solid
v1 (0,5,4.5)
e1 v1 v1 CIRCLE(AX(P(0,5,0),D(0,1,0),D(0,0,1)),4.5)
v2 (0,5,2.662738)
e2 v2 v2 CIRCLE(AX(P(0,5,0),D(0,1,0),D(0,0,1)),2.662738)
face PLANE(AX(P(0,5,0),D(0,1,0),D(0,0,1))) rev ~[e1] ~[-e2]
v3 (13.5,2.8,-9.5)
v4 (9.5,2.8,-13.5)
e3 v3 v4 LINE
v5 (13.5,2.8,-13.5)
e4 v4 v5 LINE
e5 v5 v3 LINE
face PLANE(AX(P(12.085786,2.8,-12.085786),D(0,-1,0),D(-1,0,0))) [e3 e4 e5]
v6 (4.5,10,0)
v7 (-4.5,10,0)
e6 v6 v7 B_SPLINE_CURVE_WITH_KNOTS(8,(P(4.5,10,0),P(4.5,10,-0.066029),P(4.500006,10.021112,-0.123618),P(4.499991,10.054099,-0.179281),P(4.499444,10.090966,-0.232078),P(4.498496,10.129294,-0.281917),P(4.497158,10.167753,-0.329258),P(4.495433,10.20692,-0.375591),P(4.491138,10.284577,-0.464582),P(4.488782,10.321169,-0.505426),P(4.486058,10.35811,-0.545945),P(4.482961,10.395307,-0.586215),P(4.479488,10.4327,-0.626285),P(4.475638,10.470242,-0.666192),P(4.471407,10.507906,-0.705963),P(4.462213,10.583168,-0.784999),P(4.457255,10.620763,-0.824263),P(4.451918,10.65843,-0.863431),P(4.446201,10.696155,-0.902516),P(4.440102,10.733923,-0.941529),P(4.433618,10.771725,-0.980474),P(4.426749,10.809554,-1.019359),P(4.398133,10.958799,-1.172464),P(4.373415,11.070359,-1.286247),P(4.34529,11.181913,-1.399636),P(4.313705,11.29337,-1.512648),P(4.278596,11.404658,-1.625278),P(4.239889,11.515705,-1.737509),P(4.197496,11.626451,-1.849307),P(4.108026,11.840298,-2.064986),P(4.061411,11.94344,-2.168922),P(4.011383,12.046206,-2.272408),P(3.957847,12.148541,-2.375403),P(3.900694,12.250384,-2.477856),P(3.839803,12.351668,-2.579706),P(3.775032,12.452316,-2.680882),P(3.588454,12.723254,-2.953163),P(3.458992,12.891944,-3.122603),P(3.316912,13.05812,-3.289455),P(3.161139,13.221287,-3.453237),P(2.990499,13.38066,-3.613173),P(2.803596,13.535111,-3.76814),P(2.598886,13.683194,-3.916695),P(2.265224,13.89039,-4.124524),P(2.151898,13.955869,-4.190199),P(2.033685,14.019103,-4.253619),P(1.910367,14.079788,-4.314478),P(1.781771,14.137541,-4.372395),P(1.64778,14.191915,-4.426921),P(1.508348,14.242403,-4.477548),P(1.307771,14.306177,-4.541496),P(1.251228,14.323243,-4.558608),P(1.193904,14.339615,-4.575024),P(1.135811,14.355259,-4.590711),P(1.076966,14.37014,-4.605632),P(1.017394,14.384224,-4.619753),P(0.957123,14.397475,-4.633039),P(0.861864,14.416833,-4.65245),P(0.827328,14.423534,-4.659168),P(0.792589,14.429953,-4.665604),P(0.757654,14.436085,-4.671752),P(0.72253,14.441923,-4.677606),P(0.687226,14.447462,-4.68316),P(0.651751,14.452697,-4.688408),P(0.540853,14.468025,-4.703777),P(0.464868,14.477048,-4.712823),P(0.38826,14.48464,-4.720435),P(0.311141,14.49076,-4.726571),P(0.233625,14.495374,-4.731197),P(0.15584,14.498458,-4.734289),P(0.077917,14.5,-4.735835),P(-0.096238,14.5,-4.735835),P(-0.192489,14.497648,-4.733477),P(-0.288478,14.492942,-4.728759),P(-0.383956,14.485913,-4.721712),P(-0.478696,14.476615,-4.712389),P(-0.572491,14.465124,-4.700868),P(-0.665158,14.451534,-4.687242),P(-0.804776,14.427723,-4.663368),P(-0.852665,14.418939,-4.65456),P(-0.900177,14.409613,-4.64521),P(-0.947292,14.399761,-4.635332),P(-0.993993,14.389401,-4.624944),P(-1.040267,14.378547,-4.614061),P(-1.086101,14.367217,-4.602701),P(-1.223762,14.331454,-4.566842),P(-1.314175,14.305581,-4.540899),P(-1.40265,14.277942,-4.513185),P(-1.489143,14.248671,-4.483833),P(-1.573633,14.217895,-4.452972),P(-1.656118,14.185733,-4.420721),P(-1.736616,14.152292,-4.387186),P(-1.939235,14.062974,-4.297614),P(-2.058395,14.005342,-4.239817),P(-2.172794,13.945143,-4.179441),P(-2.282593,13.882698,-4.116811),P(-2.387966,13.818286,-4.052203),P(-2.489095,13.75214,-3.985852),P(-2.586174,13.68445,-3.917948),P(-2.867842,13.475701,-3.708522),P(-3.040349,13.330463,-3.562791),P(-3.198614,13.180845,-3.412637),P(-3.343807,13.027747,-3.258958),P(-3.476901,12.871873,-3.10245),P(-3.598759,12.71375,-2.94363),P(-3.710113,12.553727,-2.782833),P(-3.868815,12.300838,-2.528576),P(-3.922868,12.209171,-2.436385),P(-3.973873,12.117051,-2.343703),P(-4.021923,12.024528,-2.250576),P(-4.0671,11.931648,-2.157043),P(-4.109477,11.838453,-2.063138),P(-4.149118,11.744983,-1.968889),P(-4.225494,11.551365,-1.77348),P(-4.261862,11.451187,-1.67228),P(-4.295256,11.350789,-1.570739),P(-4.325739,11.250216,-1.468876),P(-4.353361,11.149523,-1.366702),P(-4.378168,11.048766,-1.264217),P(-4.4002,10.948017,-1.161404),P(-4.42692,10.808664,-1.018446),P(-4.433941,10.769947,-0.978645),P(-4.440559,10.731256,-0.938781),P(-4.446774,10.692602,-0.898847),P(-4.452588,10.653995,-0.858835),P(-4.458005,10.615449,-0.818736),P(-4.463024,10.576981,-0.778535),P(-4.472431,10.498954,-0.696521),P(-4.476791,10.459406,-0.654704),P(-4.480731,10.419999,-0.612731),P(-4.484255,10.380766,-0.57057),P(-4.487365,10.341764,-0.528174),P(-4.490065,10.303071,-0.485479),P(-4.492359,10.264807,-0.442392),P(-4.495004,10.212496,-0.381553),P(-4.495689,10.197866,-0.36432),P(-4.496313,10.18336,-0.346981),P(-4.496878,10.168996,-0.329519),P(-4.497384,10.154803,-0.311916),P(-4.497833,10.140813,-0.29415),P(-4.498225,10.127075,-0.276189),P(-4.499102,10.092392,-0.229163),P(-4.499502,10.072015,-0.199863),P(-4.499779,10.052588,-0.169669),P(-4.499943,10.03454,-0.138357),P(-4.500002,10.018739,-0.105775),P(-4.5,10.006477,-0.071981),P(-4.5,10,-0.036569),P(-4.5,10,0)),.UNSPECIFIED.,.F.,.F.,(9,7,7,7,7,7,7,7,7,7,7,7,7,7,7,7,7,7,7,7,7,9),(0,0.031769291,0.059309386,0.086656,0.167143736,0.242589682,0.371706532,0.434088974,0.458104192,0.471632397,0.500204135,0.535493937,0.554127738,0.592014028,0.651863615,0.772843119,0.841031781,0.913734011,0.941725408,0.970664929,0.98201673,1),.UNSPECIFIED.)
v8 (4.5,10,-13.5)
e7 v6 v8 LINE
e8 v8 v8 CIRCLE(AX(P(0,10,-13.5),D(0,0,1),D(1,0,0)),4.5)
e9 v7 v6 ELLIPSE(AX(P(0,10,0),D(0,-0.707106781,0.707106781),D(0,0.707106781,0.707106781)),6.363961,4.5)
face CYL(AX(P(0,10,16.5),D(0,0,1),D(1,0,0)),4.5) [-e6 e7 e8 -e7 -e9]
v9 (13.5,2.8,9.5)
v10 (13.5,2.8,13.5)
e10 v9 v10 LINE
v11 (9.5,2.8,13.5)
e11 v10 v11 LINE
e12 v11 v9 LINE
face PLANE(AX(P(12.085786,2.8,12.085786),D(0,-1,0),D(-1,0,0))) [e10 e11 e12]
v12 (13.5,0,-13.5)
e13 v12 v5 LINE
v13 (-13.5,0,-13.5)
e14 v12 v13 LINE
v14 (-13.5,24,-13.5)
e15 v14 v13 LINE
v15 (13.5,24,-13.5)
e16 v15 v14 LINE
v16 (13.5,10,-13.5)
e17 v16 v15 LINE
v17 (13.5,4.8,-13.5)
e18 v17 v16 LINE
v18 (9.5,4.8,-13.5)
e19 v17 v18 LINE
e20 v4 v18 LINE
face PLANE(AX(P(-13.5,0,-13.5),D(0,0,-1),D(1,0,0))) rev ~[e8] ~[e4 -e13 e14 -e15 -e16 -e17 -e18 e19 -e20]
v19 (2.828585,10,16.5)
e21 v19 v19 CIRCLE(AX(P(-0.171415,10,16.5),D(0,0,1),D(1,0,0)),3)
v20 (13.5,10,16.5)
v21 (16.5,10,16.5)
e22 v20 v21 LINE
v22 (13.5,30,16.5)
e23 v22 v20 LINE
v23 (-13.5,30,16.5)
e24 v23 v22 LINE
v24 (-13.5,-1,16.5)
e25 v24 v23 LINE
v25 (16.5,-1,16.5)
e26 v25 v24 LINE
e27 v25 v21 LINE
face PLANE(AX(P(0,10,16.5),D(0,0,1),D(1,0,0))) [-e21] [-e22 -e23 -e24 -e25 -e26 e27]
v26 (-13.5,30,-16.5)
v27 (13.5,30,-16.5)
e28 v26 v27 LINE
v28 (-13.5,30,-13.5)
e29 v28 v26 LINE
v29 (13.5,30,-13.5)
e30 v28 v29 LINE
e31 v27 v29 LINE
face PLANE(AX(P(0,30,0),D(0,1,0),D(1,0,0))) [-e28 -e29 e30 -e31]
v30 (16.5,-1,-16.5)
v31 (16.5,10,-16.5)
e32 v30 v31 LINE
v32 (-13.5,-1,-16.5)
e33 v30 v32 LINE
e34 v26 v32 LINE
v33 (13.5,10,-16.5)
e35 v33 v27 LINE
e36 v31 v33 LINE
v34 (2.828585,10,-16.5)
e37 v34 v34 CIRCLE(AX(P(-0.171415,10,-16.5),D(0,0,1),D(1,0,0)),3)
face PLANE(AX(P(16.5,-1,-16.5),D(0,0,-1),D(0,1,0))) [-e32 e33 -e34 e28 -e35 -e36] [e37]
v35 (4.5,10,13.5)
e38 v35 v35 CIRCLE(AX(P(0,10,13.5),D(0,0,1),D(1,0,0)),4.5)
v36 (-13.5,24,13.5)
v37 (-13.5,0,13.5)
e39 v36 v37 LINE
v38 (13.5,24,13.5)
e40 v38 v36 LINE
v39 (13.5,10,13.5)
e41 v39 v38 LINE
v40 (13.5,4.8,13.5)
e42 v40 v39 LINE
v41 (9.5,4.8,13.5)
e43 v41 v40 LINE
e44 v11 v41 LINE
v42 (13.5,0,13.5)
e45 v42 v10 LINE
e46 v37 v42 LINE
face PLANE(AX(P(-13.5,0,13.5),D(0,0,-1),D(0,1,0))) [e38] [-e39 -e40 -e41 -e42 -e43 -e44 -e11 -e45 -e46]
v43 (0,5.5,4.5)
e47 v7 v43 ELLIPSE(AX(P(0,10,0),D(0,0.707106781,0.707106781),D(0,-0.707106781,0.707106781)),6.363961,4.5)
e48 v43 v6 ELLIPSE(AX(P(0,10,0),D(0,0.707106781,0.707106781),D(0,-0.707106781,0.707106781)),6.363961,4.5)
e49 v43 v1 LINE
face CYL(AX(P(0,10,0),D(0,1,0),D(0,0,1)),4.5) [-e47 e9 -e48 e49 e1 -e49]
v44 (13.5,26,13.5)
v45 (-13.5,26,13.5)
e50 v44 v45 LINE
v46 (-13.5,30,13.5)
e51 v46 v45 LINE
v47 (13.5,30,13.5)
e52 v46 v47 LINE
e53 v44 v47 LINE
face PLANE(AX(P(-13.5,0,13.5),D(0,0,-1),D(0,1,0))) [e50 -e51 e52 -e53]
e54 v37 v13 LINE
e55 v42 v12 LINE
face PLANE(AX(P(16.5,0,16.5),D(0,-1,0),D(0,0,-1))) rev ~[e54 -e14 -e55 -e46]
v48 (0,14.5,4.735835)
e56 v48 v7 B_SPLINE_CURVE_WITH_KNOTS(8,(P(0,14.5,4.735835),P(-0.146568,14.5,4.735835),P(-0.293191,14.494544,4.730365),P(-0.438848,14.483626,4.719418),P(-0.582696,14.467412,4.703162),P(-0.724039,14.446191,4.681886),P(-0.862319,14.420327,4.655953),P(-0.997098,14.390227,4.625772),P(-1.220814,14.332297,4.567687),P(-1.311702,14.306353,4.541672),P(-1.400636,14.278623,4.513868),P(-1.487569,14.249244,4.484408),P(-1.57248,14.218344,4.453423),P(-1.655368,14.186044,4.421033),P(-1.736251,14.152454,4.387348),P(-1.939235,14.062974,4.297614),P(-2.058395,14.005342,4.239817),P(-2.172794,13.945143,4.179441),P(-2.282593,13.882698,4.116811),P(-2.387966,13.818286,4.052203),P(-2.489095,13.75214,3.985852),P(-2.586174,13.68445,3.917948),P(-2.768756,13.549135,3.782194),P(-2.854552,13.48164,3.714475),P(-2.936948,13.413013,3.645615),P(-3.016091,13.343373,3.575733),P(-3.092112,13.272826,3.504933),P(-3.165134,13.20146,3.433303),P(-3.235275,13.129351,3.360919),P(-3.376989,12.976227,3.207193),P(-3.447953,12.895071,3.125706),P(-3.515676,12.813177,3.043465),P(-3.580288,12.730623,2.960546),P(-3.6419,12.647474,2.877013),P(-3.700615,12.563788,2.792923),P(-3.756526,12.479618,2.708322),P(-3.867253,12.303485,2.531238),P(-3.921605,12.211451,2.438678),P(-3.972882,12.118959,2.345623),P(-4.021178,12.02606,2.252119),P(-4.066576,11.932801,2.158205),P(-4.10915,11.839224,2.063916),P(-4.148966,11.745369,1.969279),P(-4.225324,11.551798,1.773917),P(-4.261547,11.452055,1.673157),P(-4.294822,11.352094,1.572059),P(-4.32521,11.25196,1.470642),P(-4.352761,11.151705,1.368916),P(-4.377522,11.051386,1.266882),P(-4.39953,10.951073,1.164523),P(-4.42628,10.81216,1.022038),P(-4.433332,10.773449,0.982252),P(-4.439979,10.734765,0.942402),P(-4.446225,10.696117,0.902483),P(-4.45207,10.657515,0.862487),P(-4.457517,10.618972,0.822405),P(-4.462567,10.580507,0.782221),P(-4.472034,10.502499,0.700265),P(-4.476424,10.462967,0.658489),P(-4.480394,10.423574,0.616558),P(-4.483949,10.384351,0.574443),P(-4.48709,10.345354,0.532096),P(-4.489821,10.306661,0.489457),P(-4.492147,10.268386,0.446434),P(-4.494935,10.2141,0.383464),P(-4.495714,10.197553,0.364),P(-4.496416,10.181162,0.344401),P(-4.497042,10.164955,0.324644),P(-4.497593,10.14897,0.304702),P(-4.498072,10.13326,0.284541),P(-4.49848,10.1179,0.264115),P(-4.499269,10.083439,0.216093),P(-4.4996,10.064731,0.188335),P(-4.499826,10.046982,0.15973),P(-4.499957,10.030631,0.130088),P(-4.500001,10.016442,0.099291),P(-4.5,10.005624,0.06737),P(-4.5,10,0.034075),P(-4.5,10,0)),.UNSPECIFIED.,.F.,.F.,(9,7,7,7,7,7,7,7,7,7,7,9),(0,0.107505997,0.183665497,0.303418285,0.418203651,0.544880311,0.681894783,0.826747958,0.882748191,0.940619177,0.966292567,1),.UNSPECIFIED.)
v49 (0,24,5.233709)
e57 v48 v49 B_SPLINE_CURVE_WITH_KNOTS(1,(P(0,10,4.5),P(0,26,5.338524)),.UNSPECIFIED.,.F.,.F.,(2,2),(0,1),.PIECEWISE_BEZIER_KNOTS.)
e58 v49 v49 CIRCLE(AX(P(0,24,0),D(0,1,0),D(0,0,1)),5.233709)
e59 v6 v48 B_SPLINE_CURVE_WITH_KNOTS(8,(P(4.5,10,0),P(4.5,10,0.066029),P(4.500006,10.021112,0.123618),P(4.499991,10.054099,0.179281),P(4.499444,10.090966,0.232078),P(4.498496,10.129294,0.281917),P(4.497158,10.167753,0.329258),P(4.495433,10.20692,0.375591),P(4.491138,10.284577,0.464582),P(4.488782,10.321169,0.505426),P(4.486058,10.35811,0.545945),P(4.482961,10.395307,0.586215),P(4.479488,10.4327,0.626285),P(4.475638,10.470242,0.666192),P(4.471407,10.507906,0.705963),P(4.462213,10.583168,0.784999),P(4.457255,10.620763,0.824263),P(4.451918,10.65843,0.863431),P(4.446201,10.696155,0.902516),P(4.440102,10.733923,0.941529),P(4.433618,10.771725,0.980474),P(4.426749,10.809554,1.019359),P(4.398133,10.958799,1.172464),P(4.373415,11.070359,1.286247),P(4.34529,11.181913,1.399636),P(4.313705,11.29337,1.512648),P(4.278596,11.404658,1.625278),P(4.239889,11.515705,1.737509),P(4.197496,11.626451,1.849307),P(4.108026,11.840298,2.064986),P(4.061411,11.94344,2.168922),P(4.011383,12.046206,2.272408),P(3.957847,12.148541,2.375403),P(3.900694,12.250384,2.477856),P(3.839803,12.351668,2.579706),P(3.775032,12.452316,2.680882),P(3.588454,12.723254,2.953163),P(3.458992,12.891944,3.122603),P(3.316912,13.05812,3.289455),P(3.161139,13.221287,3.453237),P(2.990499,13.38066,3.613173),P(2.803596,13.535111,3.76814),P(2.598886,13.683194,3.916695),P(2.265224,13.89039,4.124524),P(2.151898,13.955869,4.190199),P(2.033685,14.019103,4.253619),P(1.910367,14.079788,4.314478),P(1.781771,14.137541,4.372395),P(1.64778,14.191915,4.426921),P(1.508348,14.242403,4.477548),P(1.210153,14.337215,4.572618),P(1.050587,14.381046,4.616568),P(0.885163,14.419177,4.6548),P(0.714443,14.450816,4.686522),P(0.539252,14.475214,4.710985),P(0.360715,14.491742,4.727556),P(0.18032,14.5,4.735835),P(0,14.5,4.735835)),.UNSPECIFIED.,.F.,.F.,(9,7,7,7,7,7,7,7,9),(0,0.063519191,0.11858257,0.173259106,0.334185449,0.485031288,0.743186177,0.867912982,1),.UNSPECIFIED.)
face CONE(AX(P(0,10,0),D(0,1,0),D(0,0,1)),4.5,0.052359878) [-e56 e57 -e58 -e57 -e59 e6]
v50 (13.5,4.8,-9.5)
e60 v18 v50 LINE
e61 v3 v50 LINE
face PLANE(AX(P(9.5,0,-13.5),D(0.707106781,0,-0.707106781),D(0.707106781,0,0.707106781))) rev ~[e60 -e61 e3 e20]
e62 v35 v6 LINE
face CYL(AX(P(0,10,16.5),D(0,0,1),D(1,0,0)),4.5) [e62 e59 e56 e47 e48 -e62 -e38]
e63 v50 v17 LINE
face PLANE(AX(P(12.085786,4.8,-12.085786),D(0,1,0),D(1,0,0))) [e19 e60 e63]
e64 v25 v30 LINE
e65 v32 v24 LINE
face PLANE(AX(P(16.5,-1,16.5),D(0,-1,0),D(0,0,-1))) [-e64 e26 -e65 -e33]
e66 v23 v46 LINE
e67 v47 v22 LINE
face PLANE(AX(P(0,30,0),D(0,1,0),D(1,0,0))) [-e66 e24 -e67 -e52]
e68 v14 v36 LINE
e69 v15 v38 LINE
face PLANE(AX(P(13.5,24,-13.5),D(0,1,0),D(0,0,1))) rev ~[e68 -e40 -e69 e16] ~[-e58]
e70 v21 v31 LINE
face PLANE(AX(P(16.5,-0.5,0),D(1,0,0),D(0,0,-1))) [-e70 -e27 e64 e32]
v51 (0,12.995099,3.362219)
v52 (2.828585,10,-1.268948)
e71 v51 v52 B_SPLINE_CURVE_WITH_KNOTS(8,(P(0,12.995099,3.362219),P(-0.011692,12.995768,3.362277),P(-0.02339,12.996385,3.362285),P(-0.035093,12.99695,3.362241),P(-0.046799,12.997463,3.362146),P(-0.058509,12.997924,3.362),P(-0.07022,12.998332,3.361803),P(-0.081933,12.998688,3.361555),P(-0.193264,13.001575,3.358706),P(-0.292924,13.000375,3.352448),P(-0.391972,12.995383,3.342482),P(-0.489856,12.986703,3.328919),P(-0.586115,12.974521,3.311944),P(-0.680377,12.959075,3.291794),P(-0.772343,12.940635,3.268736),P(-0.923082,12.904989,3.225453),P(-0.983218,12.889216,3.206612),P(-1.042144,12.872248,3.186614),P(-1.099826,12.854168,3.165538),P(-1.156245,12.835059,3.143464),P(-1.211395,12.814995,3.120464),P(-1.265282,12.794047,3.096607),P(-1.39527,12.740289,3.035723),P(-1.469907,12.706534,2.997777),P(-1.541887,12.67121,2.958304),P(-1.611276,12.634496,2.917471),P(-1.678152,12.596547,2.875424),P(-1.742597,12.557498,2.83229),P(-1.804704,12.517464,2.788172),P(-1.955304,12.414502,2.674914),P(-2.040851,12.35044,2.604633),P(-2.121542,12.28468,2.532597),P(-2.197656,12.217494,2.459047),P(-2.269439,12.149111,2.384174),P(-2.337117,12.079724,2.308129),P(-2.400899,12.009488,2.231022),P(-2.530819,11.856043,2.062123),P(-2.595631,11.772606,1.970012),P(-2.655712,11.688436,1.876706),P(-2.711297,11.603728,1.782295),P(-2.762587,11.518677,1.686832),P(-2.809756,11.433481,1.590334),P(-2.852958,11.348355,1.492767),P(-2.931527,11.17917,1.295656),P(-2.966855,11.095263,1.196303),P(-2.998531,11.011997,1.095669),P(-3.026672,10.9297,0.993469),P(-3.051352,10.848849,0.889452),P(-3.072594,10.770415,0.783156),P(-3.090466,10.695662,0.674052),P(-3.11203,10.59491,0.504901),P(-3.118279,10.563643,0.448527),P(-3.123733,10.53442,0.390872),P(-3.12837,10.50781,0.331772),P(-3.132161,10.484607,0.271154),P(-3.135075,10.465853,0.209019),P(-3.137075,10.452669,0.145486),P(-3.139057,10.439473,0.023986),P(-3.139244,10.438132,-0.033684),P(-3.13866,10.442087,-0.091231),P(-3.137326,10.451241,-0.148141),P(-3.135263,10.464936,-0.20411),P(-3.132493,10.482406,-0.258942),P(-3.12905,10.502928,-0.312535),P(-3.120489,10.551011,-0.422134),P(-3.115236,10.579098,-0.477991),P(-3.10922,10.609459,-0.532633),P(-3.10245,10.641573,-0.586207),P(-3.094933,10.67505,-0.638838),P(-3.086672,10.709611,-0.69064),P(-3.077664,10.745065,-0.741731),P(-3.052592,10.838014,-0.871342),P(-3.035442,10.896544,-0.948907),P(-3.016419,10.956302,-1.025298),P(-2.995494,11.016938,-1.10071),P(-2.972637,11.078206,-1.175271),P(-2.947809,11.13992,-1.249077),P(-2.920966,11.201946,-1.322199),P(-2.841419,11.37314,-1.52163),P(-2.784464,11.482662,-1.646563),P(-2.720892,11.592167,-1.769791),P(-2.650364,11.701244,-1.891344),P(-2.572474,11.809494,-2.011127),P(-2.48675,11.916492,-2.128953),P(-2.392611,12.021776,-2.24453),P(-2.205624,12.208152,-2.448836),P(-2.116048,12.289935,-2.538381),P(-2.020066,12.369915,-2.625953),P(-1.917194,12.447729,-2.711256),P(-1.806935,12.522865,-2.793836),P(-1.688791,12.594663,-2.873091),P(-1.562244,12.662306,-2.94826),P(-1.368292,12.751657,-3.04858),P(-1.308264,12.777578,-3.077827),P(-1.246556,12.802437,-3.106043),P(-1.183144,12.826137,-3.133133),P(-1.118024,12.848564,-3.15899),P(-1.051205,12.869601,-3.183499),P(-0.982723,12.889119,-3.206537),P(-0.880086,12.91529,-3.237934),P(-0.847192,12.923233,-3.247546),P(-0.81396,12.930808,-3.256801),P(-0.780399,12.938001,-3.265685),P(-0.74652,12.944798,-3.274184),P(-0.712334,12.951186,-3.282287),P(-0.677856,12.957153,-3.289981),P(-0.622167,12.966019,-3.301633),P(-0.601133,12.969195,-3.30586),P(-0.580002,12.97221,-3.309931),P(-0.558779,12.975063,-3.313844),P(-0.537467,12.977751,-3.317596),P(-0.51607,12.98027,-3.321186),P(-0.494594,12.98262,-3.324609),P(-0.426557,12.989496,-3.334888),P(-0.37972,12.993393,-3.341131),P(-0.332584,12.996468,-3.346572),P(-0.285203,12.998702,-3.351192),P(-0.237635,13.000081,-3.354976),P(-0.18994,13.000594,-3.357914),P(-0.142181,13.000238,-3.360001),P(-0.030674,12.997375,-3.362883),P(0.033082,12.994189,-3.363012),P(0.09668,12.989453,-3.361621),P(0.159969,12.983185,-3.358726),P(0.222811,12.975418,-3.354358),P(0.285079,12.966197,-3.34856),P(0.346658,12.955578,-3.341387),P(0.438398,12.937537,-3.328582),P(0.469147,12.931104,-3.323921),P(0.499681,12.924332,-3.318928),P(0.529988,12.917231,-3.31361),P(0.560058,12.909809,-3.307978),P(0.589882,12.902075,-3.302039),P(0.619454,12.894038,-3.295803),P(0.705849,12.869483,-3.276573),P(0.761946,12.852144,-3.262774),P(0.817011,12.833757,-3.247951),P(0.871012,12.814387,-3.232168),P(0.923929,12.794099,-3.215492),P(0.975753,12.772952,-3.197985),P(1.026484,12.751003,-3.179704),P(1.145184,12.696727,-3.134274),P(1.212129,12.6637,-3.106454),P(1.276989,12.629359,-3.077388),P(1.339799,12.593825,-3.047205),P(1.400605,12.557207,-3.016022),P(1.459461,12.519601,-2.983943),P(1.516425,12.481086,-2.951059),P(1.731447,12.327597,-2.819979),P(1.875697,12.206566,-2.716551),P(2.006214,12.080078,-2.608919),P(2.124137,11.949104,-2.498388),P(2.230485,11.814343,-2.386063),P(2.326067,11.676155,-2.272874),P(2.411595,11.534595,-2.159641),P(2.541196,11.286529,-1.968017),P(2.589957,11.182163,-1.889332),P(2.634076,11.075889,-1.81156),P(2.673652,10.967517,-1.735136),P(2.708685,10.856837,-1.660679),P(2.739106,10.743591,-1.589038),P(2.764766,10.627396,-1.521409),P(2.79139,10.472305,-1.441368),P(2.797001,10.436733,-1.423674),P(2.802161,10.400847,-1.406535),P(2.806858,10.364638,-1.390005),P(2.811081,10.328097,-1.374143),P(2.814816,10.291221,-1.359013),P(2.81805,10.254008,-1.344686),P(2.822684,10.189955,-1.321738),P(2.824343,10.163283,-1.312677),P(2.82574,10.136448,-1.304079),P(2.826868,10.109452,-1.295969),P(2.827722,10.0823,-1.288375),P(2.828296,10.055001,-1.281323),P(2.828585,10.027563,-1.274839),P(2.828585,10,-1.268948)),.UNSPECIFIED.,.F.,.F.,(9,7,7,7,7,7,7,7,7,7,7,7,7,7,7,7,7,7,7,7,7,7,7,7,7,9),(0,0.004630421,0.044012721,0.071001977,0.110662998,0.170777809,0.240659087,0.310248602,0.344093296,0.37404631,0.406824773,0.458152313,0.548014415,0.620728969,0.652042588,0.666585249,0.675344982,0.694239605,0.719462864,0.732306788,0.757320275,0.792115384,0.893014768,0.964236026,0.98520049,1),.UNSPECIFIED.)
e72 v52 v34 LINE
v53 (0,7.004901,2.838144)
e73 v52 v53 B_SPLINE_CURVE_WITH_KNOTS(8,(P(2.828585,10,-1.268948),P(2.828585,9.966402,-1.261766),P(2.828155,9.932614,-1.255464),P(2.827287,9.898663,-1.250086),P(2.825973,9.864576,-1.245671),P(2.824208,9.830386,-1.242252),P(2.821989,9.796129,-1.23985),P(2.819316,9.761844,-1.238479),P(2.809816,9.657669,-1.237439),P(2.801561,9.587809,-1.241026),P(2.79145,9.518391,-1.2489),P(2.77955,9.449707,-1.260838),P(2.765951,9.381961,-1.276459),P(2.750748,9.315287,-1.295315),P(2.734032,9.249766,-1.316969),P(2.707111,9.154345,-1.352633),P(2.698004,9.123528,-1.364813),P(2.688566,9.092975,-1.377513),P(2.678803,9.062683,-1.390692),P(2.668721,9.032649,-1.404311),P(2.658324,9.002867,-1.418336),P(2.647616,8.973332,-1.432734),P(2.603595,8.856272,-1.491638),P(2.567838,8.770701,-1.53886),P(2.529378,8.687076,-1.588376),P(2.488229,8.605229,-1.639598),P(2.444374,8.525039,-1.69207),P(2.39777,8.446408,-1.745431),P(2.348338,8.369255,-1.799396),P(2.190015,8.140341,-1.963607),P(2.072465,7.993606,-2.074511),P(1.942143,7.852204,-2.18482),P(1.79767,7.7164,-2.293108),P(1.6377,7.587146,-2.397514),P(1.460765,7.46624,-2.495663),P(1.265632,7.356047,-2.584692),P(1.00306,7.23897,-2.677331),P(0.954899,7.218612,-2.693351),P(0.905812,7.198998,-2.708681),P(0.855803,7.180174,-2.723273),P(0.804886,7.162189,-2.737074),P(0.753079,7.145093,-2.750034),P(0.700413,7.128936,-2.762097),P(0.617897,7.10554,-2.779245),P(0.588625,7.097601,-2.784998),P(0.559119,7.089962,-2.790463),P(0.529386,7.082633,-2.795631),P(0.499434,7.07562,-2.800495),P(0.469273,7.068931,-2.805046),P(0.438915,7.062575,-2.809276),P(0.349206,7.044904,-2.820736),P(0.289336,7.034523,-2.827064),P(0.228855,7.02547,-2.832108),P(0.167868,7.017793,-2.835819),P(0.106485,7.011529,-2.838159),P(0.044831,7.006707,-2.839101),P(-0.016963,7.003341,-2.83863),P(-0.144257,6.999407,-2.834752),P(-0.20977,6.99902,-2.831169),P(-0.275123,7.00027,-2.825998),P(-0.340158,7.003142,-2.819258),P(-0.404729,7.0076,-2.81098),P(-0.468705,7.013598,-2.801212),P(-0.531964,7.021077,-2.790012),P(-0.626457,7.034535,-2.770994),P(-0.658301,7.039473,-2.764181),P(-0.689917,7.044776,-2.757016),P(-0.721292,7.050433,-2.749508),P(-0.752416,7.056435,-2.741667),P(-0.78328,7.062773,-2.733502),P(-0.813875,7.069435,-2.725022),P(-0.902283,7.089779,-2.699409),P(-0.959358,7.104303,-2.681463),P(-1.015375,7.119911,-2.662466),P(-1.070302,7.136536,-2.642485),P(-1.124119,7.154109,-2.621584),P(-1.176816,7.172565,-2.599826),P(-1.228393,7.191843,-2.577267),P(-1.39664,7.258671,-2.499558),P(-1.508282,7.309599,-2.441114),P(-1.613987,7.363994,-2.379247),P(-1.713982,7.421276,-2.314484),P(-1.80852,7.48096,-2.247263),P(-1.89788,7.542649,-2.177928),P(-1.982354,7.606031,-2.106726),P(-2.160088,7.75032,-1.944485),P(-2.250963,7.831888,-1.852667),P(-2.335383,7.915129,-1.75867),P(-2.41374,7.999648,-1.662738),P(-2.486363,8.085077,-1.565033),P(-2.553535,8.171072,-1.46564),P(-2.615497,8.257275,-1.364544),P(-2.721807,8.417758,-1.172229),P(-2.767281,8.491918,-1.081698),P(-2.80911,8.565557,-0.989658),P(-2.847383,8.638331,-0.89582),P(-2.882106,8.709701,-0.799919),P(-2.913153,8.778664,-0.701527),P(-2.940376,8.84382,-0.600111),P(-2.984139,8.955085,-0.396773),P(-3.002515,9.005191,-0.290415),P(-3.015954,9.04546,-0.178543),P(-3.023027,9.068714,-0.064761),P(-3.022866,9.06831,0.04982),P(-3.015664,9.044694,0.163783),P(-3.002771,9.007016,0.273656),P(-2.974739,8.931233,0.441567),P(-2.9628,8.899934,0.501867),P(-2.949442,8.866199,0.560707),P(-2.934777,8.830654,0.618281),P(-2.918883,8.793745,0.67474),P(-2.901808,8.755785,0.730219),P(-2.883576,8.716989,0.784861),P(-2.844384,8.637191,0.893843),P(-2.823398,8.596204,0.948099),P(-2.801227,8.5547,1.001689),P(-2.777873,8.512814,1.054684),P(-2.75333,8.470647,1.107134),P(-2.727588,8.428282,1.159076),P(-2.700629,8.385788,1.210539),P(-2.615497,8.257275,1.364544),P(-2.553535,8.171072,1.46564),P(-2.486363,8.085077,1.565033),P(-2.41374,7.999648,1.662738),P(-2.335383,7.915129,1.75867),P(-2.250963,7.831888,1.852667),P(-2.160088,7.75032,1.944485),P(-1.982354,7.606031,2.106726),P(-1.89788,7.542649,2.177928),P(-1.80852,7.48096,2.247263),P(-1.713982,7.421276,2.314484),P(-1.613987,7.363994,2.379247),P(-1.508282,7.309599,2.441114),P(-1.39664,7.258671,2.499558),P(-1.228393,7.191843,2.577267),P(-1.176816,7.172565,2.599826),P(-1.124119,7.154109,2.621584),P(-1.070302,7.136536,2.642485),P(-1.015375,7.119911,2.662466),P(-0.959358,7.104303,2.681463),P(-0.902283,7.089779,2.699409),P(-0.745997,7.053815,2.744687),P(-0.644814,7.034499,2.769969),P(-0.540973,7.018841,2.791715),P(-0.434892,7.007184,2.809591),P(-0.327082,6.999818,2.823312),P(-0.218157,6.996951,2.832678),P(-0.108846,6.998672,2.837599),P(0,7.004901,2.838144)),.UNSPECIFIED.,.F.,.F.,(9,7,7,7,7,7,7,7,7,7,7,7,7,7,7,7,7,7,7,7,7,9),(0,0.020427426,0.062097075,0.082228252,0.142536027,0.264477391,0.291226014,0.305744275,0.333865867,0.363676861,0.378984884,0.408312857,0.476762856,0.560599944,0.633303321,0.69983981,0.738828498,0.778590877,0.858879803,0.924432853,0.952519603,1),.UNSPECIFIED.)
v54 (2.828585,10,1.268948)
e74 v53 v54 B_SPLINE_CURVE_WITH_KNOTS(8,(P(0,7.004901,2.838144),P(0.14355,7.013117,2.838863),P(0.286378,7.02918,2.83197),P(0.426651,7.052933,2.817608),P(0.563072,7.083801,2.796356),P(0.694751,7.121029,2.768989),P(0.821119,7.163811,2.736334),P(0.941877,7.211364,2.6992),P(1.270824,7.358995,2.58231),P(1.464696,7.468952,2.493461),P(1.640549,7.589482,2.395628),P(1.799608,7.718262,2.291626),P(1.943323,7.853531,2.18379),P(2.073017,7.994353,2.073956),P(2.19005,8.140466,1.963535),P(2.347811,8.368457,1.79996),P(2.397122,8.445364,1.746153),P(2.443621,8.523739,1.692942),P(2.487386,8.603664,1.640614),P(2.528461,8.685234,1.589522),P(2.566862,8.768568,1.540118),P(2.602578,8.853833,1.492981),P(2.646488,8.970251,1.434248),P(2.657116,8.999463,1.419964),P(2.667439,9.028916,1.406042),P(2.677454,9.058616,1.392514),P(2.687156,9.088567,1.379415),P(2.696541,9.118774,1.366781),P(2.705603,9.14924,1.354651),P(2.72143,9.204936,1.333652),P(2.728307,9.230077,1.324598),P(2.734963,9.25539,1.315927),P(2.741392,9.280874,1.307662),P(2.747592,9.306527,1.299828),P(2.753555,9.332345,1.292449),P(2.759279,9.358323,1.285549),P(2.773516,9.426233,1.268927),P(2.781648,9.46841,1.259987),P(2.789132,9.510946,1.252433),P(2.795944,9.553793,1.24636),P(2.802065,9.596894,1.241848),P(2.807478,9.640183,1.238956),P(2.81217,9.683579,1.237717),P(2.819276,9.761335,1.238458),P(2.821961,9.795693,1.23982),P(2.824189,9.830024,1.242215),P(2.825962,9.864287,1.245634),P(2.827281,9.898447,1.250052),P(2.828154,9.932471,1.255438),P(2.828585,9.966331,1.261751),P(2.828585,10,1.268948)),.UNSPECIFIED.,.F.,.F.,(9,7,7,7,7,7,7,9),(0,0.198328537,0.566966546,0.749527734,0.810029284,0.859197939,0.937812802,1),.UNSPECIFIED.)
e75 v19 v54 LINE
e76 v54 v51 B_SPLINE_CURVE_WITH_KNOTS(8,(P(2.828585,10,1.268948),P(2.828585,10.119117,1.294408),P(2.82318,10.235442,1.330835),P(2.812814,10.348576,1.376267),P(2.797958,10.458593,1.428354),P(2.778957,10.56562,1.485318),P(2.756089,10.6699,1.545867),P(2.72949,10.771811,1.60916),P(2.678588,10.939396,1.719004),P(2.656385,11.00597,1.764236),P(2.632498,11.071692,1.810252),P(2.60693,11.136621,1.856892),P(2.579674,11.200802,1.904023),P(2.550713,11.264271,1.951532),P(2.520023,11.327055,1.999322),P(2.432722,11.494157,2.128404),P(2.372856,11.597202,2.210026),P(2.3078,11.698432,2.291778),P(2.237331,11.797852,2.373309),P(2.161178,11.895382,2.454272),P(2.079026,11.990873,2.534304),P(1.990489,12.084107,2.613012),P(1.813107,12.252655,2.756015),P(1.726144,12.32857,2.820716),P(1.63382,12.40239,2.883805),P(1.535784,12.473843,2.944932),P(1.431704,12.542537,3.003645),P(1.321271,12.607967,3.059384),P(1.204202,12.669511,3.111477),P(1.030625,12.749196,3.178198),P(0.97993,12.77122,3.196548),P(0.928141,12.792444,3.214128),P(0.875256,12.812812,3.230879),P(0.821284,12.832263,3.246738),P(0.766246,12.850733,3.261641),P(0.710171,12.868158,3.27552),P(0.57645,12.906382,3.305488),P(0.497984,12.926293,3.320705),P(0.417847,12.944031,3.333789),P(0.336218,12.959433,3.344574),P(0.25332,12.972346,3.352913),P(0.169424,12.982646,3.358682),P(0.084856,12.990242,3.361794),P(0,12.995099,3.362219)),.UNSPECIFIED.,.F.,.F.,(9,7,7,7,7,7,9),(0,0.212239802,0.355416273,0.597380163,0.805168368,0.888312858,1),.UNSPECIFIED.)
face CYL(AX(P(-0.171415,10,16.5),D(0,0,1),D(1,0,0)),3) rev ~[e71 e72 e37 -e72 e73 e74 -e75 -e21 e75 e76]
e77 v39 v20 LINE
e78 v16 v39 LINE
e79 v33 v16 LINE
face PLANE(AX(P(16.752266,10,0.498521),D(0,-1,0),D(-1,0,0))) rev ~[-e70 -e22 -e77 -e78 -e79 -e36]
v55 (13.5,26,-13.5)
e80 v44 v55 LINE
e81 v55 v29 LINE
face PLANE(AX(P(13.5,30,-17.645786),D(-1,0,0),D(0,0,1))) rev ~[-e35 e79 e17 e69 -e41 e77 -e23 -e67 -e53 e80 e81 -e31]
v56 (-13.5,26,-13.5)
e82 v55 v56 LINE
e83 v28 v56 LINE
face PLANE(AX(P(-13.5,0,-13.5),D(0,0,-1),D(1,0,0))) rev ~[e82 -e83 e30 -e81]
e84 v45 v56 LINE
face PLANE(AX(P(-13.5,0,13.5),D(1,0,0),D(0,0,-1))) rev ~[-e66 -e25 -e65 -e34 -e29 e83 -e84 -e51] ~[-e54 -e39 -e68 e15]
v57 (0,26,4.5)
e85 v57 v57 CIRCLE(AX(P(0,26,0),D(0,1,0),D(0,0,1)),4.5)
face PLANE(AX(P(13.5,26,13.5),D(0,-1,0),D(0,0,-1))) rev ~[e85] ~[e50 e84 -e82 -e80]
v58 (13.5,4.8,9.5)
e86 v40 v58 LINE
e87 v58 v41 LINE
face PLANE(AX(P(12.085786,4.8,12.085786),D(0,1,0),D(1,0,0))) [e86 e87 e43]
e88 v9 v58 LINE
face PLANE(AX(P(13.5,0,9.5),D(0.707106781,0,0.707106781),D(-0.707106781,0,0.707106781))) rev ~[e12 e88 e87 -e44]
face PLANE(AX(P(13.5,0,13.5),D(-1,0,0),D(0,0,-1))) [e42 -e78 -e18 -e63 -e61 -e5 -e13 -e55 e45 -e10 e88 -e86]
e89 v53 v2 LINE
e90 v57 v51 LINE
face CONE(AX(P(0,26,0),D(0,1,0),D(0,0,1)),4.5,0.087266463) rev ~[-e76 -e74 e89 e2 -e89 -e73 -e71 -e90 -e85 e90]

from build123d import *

# Parameters (mm, degrees)
SKETCH1_W                     = 33
SKETCH1_H                     = 33
SKETCH1_W_2                   = 27
SKETCH1_H_2                   = 27
BOSS_EXTRUDE1_DEPTH           = 30
SKETCH3_W                     = 27
SKETCH3_H                     = 30
CUT_EXTRUDE1_DEPTH            = 30
SKETCH4_W                     = 33
SKETCH4_H                     = 1
BOSS_EXTRUDE2_DEPTH           = 33
BOSS_EXTRUDE4_DEPTH           = 4.8
CUT_EXTRUDE3_DEPTH            = 2.8
BOSS_EXTRUDE5_DEPTH           = 4.8
CUT_EXTRUDE5_DEPTH            = 2.8
SKETCH12_W                    = 3
SKETCH12_H                    = 27
CUT_EXTRUDE6_DEPTH            = 10
SKETCH13_W                    = 3
SKETCH13_H                    = 37.394696754
CUT_EXTRUDE7_DEPTH            = 39.800773188
SKETCH15_R                    = 4.5
BOSS_EXTRUDE6_DEPTH           = 33
BOSS_EXTRUDE8_DEPTH           = 27
SKETCH24_R                    = 4.5
BOSS_EXTRUDE7_DEPTH           = 5
BOSS_EXTRUDE7_OTHER_WAY_DEPTH = 16
BOSS_EXTRUDE7_OTHER_WAY_TAPER = -3
SKETCH27_R                    = 4.5
CUT_EXTRUDE12_DEPTH           = 21
CUT_EXTRUDE12_DRAFT           = -5
SKETCH31_R                    = 3
CUT_EXTRUDE14_DEPTH           = 33
CUT_EXTRUDE15_DEPTH           = 20


with BuildPart() as part:
    # Sketch1 → Boss-Extrude1 (new body)
    with BuildSketch(Plane(origin=(0, 0, 0), x_dir=(1, 0, 0), z_dir=(0, 1, 0))):
        Rectangle(SKETCH1_W, SKETCH1_H)
        Rectangle(SKETCH1_W_2, SKETCH1_H_2, mode=Mode.SUBTRACT)
    extrude(amount=BOSS_EXTRUDE1_DEPTH)

    # Sketch3 → Cut-Extrude1 (cut)
    with BuildSketch(Plane(origin=(-13.5, 0, 0), x_dir=(0, 0, -1), z_dir=(1, 0, 0))):
        with Locations((0, 15)):
            Rectangle(SKETCH3_W, SKETCH3_H)
    extrude(amount=-CUT_EXTRUDE1_DEPTH, mode=Mode.SUBTRACT)

    # Sketch4 → Boss-Extrude2 (add)
    with BuildSketch(Plane(origin=(16.5, 0, 0), x_dir=(0, 0, -1), z_dir=(1, 0, 0))):
        with Locations((0, -0.5)):
            Rectangle(SKETCH4_W, SKETCH4_H)
    extrude(amount=-BOSS_EXTRUDE2_DEPTH)

    # Sketch7 → Boss-Extrude4 (add)
    with BuildSketch(Plane(origin=(0, 0, 0), x_dir=(1, 0, 0), z_dir=(0, 1, 0))):
        Polygon((13.5, 13.5), (9.5, 13.5), (13.5, 9.5), align=None)
    extrude(amount=BOSS_EXTRUDE4_DEPTH)

    # Sketch8 → Cut-Extrude3 (cut)
    with BuildSketch(Plane(origin=(0, 0, 0), x_dir=(1, 0, 0), z_dir=(0, 1, 0))):
        Polygon((13.5, 9.5), (9.5, 13.5), (13.5, 13.5), align=None)
    extrude(amount=CUT_EXTRUDE3_DEPTH, mode=Mode.SUBTRACT)

    # Sketch9 → Boss-Extrude5 (add)
    with BuildSketch(Plane(origin=(0, 0, 0), x_dir=(1, 0, 0), z_dir=(0, 1, 0))):
        Polygon((13.5, -13.5), (13.5, -9.5), (9.5, -13.5), align=None)
    extrude(amount=BOSS_EXTRUDE5_DEPTH)

    # Sketch10 → Cut-Extrude5 (cut)
    with BuildSketch(Plane(origin=(0, 0, 0), x_dir=(1, 0, 0), z_dir=(0, 1, 0))):
        Polygon((9.5, -13.5), (13.5, -9.5), (13.5, -13.5), align=None)
    extrude(amount=CUT_EXTRUDE5_DEPTH, mode=Mode.SUBTRACT)

    # Sketch12 → Cut-Extrude6 (cut)
    with BuildSketch(Plane(origin=(0, 0, 0), x_dir=(1, 0, 0), z_dir=(0, 1, 0))):
        with Locations((-15, 0)):
            Rectangle(SKETCH12_W, SKETCH12_H)
    extrude(amount=-CUT_EXTRUDE6_DEPTH, mode=Mode.SUBTRACT)

    # Sketch13 → Cut-Extrude7 (cut, through all)
    with BuildSketch(Plane.XZ.offset(1)):
        with Locations((-15, -2.197348377)):
            Rectangle(SKETCH13_W, SKETCH13_H)
    extrude(amount=-CUT_EXTRUDE7_DEPTH, mode=Mode.SUBTRACT)

    # Sketch15 → Boss-Extrude6 (add, through all)
    with BuildSketch(Plane.XY.offset(16.5)):
        with Locations((0, 10)):
            Circle(SKETCH15_R)
    extrude(amount=-BOSS_EXTRUDE6_DEPTH)

    # Sketch26 → Boss-Extrude8 (add, through all)
    with BuildSketch(Plane.ZY.offset(-13.5)):
        Polygon((13.5, 26), (-13.5, 26), (-13.5, 24), (0, 24), (13.5, 24), align=None)
    extrude(amount=BOSS_EXTRUDE8_DEPTH)

    # Sketch24 → Boss-Extrude7 (add)
    with BuildSketch(Plane(origin=(0, 10, 0), x_dir=(1, 0, 0), z_dir=(0, 1, 0))):
        with Locations(Location((0, 0, 0), (0, 0, 270))):
            Circle(SKETCH24_R)
    extrude(amount=-BOSS_EXTRUDE7_DEPTH)

    # Sketch24 → Boss-Extrude7 other way (add)
    with BuildSketch(Plane(origin=(0, 10, 0), x_dir=(1, 0, 0), z_dir=(0, 1, 0))):
        with Locations(Location((0, 0, 0), (0, 0, 270))):
            Circle(SKETCH24_R)
    extrude(amount=BOSS_EXTRUDE7_OTHER_WAY_DEPTH, taper=BOSS_EXTRUDE7_OTHER_WAY_TAPER)


with BuildPart() as cut_extrude12_tool:
    # Sketch27 → Cut-Extrude12 (with draft: the straight prism first)
    with BuildSketch(Plane(origin=(0, 26, 0), x_dir=(1, 0, 0), z_dir=(0, 1, 0))):
        with Locations(Location((0, 0, 0), (0, 0, 270))):
            Circle(SKETCH27_R)
    extrude(amount=-CUT_EXTRUDE12_DEPTH)
    # Cut-Extrude12: the draft: its side faces are tilted about the plane it starts from
    cut_extrude12_sides = [cut_extrude12_tool.faces().sort_by_distance(p)[0] for p in [
        (0, 15.5, -4.5),
    ]]
    draft(cut_extrude12_sides, Plane(origin=(0, 26, 0), x_dir=(1, 0, 0), z_dir=(0, 1, 0)), CUT_EXTRUDE12_DRAFT)


with BuildPart() as part_1:
    add(part.part)

    # Cut-Extrude12: cut by cut_extrude12_tool
    add(cut_extrude12_tool.part, mode=Mode.SUBTRACT)

    # Sketch31 → Cut-Extrude14 (cut)
    with BuildSketch(Plane.XY.offset(16.5)):
        with Locations((-0.171414506, 10)):
            Circle(SKETCH31_R)
    extrude(amount=-CUT_EXTRUDE14_DEPTH, mode=Mode.SUBTRACT)

    # Sketch32 → Cut-Extrude15 (cut)
    with BuildSketch(Plane(origin=(0, 30, 0), x_dir=(1, 0, 0), z_dir=(0, 1, 0))):
        Polygon((13.5, 13.5), (13.5, 17.645785923), (20.004532671, 17.645785923), (20.004532671, -18.642828809), (13.5, -18.642828809), (13.5, -13.5), align=None)
    extrude(amount=-CUT_EXTRUDE15_DEPTH, mode=Mode.SUBTRACT)


solid = part_1.part
